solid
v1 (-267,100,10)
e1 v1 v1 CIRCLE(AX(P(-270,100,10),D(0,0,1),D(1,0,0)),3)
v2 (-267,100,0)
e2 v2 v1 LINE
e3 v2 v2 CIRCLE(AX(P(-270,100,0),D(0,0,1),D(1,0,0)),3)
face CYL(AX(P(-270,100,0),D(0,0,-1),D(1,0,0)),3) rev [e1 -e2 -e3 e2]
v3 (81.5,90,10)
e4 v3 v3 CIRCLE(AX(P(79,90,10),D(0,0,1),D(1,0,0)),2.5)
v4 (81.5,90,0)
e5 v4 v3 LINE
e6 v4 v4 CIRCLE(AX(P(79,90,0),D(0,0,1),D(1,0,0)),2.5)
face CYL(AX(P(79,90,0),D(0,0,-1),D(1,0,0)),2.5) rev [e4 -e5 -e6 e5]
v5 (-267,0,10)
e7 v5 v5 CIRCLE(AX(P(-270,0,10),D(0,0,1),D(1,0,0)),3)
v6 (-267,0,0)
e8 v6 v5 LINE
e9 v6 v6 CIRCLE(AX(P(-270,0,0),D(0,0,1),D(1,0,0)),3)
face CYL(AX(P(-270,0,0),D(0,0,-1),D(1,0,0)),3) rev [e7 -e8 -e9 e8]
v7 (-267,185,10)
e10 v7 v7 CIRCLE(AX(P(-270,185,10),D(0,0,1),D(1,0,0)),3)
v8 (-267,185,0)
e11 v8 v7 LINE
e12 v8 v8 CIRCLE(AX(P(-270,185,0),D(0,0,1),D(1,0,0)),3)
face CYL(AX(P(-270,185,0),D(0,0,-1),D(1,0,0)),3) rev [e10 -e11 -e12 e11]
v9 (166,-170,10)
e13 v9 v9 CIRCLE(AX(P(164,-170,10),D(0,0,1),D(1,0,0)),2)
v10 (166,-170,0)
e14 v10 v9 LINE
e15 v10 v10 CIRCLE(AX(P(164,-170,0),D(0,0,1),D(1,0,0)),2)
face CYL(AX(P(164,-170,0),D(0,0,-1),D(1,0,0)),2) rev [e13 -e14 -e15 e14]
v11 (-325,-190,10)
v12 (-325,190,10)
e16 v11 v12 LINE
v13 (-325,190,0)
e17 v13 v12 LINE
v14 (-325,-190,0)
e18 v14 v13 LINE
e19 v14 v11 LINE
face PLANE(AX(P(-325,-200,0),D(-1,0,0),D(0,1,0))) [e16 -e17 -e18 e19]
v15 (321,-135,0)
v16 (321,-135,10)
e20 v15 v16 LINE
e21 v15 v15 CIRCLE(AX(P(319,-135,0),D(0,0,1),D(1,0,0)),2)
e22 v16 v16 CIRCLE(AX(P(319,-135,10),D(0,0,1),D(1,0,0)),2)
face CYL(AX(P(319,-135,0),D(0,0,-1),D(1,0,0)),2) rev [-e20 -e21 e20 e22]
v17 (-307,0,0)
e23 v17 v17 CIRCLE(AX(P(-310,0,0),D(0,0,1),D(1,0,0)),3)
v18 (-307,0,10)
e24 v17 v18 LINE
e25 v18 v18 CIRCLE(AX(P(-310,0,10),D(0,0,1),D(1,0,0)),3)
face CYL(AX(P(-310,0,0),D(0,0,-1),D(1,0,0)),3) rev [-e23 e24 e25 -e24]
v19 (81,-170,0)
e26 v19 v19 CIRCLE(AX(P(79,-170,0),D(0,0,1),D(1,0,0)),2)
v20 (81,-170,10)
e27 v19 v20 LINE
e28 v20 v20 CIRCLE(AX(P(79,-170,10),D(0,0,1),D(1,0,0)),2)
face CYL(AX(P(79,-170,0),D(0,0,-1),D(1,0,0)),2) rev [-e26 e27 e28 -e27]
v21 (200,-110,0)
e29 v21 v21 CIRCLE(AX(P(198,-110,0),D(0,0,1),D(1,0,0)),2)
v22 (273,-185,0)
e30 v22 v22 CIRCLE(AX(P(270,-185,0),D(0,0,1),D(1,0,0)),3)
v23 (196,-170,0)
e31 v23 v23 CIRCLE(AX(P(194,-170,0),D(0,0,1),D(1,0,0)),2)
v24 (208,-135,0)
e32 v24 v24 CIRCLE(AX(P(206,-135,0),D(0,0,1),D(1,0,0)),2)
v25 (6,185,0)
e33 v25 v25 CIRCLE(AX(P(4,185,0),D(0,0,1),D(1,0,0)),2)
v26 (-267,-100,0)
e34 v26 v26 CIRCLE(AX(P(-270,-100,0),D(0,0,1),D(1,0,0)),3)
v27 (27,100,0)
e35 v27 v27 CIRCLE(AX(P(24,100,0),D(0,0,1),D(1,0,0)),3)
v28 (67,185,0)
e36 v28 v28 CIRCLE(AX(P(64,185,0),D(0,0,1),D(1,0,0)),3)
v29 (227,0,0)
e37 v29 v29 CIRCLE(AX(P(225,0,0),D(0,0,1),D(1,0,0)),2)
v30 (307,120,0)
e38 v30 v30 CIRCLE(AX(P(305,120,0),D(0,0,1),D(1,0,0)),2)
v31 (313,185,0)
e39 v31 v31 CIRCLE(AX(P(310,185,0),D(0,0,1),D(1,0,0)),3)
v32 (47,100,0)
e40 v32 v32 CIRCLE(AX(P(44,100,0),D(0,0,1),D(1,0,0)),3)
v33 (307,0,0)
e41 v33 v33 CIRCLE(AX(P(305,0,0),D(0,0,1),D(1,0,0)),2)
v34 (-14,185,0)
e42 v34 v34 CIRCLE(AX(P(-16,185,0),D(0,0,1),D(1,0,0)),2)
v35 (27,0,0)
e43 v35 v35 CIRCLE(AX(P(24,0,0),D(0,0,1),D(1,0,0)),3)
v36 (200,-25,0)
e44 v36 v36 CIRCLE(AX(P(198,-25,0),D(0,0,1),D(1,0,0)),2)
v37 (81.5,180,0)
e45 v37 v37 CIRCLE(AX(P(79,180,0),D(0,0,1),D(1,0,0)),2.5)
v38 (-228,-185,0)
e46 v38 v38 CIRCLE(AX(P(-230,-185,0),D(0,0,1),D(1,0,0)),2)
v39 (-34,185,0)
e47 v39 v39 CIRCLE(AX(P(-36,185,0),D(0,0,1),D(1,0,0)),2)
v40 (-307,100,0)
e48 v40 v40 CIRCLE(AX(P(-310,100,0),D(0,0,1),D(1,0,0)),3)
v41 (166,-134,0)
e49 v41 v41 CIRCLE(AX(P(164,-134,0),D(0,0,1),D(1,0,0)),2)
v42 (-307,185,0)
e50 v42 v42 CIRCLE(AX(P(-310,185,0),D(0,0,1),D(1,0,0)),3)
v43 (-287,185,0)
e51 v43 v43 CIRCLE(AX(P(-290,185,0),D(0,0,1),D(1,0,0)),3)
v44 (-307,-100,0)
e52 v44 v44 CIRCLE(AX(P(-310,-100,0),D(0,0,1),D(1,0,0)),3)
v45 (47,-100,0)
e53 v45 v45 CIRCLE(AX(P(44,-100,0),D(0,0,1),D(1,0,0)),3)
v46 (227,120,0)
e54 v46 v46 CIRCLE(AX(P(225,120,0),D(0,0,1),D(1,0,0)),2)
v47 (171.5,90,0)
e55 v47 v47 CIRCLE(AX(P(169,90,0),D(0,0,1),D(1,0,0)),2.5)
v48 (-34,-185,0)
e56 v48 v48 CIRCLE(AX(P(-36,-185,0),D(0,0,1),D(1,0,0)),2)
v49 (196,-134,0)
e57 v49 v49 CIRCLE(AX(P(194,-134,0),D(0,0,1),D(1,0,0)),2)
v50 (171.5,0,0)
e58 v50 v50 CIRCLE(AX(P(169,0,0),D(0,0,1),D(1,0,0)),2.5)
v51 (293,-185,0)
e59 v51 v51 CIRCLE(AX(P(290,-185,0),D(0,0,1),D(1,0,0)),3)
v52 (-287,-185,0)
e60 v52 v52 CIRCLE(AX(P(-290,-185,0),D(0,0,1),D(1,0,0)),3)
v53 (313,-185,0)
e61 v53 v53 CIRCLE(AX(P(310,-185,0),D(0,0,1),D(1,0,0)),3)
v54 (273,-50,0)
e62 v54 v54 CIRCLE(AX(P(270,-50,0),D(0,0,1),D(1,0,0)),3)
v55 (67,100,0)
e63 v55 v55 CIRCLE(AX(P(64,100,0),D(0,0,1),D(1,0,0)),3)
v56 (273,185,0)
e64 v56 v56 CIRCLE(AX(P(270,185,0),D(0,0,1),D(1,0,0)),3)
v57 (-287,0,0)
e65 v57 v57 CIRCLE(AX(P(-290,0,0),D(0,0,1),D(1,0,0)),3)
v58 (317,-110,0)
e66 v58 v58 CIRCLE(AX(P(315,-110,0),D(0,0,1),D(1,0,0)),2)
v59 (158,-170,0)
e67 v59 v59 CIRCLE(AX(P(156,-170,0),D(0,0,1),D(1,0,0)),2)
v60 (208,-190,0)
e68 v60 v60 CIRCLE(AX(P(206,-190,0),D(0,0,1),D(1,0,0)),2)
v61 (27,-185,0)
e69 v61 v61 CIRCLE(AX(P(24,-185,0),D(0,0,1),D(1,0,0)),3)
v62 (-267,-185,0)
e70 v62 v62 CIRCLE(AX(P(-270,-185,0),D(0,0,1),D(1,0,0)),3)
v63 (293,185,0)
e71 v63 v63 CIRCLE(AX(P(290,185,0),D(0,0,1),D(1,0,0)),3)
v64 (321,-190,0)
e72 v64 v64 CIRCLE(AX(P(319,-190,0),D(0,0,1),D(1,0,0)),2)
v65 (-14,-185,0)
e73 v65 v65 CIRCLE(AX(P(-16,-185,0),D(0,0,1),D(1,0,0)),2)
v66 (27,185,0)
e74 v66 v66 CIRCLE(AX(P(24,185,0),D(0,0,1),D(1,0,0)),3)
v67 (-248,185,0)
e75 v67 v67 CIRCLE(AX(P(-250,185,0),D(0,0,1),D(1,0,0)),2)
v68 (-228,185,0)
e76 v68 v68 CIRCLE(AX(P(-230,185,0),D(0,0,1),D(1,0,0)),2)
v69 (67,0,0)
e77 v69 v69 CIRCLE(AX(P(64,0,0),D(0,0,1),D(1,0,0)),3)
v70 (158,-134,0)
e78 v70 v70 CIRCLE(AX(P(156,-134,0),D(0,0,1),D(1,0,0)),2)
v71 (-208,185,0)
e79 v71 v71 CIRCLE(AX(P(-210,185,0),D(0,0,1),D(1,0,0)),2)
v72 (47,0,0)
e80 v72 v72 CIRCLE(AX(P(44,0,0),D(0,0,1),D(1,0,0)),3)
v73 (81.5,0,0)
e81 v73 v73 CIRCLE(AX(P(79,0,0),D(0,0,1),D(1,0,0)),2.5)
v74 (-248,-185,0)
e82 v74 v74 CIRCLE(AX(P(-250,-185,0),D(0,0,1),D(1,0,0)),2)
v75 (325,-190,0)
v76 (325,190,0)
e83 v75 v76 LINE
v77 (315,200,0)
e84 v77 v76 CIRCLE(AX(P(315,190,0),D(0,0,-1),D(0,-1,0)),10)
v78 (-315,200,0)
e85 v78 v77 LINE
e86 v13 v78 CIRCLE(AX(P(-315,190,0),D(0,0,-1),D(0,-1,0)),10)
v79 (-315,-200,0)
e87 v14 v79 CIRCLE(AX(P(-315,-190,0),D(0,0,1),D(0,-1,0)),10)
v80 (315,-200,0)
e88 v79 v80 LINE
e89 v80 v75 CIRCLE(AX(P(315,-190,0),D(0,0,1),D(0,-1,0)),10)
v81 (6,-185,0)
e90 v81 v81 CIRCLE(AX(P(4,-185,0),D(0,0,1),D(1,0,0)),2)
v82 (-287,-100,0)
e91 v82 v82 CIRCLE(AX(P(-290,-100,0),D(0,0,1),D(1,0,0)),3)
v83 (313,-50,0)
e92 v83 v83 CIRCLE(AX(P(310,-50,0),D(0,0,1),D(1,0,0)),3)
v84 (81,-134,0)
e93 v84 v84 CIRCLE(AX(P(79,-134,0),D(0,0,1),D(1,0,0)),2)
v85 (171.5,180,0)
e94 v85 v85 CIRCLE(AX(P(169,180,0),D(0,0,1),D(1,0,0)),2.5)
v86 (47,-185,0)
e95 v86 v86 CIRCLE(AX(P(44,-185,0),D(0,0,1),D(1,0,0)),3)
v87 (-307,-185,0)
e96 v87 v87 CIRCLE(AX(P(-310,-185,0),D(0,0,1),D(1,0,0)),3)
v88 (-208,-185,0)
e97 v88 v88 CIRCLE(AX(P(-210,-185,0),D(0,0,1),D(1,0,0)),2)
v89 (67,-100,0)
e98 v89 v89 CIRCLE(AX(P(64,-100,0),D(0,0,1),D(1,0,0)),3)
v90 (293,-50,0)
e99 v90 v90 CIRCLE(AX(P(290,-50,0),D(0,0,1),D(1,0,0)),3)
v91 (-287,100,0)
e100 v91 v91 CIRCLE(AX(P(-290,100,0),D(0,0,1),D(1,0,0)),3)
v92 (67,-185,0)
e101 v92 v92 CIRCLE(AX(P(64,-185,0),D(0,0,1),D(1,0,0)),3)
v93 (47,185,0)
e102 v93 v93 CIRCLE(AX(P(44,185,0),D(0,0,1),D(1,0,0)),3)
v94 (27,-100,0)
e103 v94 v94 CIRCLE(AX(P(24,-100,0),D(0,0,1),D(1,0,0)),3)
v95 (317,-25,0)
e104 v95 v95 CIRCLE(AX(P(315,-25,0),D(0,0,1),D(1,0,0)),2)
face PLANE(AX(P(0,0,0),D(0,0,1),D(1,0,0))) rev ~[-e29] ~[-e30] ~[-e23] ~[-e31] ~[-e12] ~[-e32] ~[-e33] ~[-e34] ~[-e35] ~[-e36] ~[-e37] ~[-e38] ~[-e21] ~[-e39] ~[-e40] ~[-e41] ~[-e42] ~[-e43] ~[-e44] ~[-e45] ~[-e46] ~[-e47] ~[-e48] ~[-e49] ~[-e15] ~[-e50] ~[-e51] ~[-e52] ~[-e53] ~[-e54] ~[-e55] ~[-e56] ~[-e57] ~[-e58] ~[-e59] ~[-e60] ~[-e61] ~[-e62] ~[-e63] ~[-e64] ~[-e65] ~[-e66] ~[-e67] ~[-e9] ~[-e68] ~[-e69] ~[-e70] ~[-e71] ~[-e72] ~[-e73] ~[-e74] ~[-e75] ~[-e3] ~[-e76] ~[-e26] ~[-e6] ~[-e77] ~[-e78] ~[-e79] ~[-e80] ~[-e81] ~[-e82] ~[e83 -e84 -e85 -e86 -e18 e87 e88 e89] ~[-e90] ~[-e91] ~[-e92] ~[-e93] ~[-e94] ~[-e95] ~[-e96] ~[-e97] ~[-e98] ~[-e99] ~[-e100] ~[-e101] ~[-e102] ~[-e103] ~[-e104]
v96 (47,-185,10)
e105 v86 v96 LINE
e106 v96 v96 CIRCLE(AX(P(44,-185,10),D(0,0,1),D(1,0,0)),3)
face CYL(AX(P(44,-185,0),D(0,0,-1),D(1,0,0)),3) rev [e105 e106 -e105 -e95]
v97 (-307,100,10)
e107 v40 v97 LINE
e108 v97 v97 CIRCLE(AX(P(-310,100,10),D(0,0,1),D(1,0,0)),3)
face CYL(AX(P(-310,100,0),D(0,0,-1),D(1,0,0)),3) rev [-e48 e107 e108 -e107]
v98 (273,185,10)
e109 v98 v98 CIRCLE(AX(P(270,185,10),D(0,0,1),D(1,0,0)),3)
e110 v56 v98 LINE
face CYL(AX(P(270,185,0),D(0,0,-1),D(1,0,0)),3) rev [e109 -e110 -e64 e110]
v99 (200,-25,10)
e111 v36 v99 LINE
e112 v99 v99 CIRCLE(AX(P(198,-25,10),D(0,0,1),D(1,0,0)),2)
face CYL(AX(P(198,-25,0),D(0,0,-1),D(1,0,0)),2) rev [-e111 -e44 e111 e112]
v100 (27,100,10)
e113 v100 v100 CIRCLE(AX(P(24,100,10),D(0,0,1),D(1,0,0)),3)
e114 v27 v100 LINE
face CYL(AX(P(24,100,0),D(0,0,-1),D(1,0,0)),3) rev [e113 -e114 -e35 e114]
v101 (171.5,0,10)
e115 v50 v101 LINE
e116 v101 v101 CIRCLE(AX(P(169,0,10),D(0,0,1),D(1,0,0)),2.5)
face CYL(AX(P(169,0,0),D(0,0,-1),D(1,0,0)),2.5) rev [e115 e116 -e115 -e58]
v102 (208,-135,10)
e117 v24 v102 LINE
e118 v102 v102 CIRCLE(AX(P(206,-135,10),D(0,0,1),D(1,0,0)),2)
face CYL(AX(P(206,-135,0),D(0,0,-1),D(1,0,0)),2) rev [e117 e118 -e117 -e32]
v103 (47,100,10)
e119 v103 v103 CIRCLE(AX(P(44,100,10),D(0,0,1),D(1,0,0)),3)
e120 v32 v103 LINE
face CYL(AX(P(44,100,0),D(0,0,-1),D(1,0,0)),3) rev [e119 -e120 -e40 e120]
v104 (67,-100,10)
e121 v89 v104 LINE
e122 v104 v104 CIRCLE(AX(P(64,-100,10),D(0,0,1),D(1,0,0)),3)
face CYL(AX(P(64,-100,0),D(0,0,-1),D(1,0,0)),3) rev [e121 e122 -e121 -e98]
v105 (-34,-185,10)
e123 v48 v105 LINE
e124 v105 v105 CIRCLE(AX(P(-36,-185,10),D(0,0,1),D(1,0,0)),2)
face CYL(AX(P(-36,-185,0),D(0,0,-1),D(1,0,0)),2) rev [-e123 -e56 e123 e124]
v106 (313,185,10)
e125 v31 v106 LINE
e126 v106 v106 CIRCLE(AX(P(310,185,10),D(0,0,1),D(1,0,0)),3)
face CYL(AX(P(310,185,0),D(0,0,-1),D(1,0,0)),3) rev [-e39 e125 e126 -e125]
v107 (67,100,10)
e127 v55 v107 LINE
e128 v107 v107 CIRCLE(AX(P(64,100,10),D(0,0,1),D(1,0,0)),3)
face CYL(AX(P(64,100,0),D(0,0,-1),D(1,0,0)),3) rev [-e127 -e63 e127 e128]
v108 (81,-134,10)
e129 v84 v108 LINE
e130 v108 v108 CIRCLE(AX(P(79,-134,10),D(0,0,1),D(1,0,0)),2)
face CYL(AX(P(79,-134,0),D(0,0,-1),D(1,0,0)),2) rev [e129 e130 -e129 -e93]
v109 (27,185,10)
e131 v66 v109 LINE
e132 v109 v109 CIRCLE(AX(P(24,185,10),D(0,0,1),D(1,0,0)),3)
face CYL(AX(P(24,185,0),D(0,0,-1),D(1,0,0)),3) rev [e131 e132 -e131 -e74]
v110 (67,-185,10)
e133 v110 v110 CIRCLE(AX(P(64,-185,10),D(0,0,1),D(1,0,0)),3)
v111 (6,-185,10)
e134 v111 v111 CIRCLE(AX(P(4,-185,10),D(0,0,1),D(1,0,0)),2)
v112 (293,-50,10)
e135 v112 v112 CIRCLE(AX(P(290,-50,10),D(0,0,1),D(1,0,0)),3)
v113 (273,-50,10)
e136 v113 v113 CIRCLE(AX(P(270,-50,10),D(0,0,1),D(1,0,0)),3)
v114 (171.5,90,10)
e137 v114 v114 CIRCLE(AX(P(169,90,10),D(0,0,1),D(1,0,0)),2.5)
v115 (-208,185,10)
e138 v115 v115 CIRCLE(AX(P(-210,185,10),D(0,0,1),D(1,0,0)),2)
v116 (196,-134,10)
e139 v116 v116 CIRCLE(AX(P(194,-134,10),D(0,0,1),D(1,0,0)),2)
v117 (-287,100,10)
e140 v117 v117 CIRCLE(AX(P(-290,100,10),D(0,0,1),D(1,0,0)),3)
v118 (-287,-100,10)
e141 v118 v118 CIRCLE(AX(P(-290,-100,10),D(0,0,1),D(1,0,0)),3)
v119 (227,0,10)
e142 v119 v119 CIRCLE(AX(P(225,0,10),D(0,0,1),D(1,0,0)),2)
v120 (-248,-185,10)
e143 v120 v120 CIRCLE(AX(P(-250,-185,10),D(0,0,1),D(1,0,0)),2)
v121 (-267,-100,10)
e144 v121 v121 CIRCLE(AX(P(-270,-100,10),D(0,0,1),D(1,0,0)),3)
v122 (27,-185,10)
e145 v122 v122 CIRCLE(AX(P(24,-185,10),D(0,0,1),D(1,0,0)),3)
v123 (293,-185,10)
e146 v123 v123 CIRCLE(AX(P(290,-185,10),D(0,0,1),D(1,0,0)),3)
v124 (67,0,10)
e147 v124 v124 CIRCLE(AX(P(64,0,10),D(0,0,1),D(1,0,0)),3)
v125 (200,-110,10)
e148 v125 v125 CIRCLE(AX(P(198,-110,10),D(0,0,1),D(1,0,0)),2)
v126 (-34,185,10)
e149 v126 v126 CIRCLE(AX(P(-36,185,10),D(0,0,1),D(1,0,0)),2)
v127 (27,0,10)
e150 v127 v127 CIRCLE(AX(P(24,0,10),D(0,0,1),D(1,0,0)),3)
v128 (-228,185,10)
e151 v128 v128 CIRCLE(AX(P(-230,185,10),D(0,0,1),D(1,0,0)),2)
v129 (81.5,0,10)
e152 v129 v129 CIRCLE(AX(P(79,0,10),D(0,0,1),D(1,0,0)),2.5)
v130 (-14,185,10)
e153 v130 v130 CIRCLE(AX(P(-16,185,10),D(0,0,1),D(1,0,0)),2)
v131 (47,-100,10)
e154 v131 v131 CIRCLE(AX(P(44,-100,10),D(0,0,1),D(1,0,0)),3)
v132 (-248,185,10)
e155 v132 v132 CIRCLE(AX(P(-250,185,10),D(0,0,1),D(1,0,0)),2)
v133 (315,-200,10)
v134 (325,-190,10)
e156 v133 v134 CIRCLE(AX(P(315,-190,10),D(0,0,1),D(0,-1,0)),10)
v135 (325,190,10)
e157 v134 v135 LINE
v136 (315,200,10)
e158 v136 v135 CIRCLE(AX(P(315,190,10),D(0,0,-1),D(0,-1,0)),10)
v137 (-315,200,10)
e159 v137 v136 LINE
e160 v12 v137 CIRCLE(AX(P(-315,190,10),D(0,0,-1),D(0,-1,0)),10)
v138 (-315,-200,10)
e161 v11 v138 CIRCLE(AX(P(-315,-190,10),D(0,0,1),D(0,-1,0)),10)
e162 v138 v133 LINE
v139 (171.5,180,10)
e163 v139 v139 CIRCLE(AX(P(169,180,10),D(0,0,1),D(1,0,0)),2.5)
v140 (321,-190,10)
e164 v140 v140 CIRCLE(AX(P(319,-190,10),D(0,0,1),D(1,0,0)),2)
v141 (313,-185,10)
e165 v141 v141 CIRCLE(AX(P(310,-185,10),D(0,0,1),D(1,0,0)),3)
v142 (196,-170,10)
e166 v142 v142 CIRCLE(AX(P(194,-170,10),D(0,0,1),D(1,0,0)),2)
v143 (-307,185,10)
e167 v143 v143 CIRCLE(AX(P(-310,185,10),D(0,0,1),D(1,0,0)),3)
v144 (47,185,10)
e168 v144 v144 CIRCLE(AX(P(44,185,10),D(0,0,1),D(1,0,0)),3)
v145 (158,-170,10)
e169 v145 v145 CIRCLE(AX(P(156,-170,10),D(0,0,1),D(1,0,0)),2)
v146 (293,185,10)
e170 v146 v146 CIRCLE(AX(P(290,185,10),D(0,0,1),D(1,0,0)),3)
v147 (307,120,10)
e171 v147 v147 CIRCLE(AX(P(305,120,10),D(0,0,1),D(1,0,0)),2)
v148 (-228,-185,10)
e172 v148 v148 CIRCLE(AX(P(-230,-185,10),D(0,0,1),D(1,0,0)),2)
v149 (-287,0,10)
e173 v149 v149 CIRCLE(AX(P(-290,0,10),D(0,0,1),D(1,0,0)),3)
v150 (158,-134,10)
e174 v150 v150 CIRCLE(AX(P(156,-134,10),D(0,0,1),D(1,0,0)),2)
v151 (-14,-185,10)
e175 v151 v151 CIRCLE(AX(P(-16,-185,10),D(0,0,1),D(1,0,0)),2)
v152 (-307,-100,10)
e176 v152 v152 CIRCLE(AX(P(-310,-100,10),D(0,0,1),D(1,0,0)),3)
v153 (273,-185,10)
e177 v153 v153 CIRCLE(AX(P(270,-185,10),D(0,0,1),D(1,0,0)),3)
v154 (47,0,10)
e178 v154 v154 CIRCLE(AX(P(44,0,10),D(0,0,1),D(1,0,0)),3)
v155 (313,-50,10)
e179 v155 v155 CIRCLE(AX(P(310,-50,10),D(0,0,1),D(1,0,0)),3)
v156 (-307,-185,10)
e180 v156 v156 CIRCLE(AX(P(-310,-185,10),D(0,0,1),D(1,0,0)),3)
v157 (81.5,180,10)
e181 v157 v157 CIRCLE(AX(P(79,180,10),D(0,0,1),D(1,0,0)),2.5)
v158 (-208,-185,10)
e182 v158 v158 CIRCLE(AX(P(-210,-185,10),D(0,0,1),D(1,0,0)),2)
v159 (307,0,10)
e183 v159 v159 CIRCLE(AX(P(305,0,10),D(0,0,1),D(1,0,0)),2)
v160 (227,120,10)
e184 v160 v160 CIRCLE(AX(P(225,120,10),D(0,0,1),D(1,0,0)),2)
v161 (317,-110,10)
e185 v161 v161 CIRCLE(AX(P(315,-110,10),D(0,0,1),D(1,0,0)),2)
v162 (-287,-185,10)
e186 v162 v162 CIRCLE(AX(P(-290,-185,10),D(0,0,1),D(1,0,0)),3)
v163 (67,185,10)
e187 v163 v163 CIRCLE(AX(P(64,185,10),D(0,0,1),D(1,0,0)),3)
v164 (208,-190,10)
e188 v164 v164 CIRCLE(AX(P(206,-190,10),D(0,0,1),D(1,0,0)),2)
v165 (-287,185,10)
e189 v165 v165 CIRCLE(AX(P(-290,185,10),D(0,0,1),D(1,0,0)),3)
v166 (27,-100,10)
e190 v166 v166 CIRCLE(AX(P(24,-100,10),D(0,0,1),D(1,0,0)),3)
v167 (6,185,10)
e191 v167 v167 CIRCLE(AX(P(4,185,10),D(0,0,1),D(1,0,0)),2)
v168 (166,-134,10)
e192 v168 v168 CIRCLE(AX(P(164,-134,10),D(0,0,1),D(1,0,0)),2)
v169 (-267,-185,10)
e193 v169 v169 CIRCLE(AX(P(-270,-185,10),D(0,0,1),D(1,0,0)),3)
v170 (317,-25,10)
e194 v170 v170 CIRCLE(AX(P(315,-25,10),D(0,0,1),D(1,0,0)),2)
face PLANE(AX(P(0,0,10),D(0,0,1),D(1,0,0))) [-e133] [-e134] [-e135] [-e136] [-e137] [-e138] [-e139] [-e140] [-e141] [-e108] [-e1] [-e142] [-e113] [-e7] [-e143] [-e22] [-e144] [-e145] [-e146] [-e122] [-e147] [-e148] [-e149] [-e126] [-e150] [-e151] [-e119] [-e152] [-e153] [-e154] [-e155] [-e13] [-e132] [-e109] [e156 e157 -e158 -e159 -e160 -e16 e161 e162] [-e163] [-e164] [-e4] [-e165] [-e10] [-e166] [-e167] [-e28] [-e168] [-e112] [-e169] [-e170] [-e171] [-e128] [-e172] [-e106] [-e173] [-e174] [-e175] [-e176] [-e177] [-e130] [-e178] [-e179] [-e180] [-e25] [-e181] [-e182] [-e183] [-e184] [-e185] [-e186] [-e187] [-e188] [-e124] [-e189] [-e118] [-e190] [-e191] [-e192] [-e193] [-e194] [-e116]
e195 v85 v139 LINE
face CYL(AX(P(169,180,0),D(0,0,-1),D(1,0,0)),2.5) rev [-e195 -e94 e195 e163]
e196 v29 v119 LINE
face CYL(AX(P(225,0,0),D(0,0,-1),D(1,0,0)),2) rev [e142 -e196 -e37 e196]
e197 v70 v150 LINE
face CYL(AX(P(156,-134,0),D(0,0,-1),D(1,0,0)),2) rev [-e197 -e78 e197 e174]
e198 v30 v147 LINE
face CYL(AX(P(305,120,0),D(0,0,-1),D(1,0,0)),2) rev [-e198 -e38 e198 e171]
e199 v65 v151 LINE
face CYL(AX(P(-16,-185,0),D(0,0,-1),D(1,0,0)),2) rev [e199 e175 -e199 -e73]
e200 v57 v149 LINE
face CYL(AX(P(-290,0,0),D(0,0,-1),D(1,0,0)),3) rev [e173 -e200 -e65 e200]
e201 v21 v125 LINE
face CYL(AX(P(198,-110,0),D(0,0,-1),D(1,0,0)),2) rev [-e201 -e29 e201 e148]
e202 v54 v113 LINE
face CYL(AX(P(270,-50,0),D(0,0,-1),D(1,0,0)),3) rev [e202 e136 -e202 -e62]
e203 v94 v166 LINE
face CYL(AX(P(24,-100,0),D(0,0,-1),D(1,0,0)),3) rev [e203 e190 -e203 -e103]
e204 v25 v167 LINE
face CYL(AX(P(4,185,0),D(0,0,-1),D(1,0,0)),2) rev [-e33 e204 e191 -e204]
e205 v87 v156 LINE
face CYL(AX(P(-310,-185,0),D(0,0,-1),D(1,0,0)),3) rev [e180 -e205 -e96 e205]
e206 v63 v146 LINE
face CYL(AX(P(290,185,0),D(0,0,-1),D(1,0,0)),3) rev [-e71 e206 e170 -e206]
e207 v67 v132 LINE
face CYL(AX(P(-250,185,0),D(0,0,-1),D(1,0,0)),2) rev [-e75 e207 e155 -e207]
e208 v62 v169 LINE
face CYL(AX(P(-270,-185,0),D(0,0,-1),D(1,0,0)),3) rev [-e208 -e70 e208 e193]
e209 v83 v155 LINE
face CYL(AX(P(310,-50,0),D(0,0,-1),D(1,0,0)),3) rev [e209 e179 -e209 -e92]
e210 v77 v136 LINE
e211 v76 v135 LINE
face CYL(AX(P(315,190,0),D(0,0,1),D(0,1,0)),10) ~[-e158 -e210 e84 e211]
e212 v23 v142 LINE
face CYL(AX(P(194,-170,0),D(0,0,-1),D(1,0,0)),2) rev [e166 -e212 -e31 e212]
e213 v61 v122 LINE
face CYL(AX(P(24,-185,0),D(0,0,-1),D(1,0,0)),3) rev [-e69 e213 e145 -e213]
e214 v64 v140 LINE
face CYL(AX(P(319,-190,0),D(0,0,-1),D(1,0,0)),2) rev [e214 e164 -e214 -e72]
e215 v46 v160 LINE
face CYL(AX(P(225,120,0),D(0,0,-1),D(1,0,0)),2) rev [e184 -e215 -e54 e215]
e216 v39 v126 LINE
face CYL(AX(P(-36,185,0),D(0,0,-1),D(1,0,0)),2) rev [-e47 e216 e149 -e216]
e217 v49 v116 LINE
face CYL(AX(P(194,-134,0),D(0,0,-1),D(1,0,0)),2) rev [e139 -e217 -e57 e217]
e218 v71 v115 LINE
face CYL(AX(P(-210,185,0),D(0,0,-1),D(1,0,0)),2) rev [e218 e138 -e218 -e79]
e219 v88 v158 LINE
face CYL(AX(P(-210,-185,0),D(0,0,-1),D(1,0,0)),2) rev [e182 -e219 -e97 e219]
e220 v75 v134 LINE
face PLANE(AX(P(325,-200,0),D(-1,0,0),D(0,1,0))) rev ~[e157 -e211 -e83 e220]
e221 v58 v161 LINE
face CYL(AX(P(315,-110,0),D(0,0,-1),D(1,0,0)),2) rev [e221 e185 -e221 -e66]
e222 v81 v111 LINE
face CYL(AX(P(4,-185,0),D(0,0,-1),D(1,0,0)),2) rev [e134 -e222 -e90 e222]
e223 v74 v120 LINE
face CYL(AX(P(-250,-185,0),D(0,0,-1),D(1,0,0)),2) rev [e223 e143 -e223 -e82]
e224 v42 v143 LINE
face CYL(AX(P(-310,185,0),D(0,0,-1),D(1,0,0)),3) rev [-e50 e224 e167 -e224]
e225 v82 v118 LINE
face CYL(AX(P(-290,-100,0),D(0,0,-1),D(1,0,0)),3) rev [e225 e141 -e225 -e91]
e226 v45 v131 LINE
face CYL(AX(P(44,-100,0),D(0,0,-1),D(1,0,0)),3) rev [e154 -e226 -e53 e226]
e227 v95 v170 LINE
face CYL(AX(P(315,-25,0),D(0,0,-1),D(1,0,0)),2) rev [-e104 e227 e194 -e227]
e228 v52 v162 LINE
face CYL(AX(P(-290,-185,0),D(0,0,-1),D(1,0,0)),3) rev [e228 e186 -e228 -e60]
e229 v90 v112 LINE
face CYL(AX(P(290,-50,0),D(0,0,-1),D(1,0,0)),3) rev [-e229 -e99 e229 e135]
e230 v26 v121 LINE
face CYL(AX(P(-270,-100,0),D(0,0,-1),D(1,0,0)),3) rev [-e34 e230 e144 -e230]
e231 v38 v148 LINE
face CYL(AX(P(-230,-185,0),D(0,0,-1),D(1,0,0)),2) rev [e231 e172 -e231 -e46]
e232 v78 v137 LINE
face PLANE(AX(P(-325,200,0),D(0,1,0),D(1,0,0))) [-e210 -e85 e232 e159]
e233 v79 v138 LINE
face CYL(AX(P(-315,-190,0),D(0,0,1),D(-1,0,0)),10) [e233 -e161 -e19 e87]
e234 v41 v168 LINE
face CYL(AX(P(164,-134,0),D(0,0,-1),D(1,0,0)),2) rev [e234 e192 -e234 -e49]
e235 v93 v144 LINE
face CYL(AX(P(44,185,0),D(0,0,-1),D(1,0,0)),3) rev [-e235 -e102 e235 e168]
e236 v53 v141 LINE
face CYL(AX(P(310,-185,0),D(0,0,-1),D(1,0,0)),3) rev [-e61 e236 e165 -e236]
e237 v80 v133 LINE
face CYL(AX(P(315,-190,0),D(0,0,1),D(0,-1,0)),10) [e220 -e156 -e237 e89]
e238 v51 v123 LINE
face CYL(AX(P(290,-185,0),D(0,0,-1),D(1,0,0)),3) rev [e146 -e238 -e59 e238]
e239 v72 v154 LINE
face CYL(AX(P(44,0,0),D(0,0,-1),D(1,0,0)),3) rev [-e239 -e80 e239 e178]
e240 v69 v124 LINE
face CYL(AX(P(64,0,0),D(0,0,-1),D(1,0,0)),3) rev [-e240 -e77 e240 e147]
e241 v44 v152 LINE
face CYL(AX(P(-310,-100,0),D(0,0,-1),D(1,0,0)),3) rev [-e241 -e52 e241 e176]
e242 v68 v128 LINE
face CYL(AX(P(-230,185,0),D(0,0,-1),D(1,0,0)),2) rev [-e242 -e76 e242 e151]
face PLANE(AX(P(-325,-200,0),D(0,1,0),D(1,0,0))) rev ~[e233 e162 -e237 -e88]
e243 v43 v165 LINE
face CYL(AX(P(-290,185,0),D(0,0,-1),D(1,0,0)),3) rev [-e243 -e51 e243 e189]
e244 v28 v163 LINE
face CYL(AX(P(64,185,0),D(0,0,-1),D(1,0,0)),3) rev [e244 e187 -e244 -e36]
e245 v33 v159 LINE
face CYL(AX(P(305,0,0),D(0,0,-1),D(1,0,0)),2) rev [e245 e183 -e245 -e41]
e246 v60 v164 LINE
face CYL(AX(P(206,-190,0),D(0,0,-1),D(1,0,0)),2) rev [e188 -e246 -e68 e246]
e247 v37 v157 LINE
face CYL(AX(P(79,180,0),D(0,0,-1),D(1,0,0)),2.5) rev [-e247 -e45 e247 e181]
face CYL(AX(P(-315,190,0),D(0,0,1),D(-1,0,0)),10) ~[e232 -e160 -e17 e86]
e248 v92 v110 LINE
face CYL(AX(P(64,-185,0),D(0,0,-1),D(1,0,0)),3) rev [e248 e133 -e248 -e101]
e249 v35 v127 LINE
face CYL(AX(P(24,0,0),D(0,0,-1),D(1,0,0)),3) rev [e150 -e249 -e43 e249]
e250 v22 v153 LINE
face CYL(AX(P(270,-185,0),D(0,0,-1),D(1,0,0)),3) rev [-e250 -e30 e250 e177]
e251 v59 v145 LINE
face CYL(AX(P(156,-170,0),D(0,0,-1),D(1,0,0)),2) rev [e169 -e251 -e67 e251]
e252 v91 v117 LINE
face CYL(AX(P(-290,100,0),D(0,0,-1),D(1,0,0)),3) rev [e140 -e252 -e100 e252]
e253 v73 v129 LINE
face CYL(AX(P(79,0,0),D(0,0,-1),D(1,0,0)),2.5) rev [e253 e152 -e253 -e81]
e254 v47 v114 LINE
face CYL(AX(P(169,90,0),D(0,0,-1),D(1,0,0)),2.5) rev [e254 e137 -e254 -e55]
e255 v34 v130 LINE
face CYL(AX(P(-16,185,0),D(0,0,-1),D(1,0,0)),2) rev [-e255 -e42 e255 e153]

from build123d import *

# Parameters (mm, degrees)
SKETCH_1_W      = 650
SKETCH_1_H      = 400
SKETCH_1_R      = 3
SKETCH_1_R_2    = 2.5
SKETCH_1_R_3    = 2
EXTRUDE_1_DEPTH = 10
FILLET_1_R      = 10


with BuildPart() as part:
    # 草图1 → 凸台-拉伸1 (new body)
    with BuildSketch(Plane.XY):
        Rectangle(SKETCH_1_W, SKETCH_1_H)
        with Locations((-310, 100)):
            Circle(SKETCH_1_R, mode=Mode.SUBTRACT)
        with Locations((-290, 100)):
            Circle(SKETCH_1_R, mode=Mode.SUBTRACT)
        with Locations((-270, 100)):
            Circle(SKETCH_1_R, mode=Mode.SUBTRACT)
        with Locations((-310, 0)):
            Circle(SKETCH_1_R, mode=Mode.SUBTRACT)
        with Locations((-290, 0)):
            Circle(SKETCH_1_R, mode=Mode.SUBTRACT)
        with Locations((-270, 0)):
            Circle(SKETCH_1_R, mode=Mode.SUBTRACT)
        with Locations((-310, -100)):
            Circle(SKETCH_1_R, mode=Mode.SUBTRACT)
        with Locations((-290, -100)):
            Circle(SKETCH_1_R, mode=Mode.SUBTRACT)
        with Locations((-270, -100)):
            Circle(SKETCH_1_R, mode=Mode.SUBTRACT)
        with Locations((24, 100)):
            Circle(SKETCH_1_R, mode=Mode.SUBTRACT)
        with Locations((44, 100)):
            Circle(SKETCH_1_R, mode=Mode.SUBTRACT)
        with Locations((64, 100)):
            Circle(SKETCH_1_R, mode=Mode.SUBTRACT)
        with Locations((24, -100)):
            Circle(SKETCH_1_R, mode=Mode.SUBTRACT)
        with Locations((44, -100)):
            Circle(SKETCH_1_R, mode=Mode.SUBTRACT)
        with Locations((64, -100)):
            Circle(SKETCH_1_R, mode=Mode.SUBTRACT)
        with Locations((24, 0)):
            Circle(SKETCH_1_R, mode=Mode.SUBTRACT)
        with Locations((44, 0)):
            Circle(SKETCH_1_R, mode=Mode.SUBTRACT)
        with Locations((64, 0)):
            Circle(SKETCH_1_R, mode=Mode.SUBTRACT)
        with Locations((79, 180)):
            Circle(SKETCH_1_R_2, mode=Mode.SUBTRACT)
        with Locations((169, 180)):
            Circle(SKETCH_1_R_2, mode=Mode.SUBTRACT)
        with Locations((79, 90)):
            Circle(SKETCH_1_R_2, mode=Mode.SUBTRACT)
        with Locations((79, 0)):
            Circle(SKETCH_1_R_2, mode=Mode.SUBTRACT)
        with Locations((169, 90)):
            Circle(SKETCH_1_R_2, mode=Mode.SUBTRACT)
        with Locations((169, 0)):
            Circle(SKETCH_1_R_2, mode=Mode.SUBTRACT)
        with Locations((305, 120)):
            Circle(SKETCH_1_R_3, mode=Mode.SUBTRACT)
        with Locations((225, 120)):
            Circle(SKETCH_1_R_3, mode=Mode.SUBTRACT)
        with Locations((305, 0)):
            Circle(SKETCH_1_R_3, mode=Mode.SUBTRACT)
        with Locations((225, 0)):
            Circle(SKETCH_1_R_3, mode=Mode.SUBTRACT)
        with Locations((79, -134)):
            Circle(SKETCH_1_R_3, mode=Mode.SUBTRACT)
        with Locations((79, -170)):
            Circle(SKETCH_1_R_3, mode=Mode.SUBTRACT)
        with Locations((156, -134)):
            Circle(SKETCH_1_R_3, mode=Mode.SUBTRACT)
        with Locations((156, -170)):
            Circle(SKETCH_1_R_3, mode=Mode.SUBTRACT)
        with Locations((164, -134)):
            Circle(SKETCH_1_R_3, mode=Mode.SUBTRACT)
        with Locations((164, -170)):
            Circle(SKETCH_1_R_3, mode=Mode.SUBTRACT)
        with Locations((194, -134)):
            Circle(SKETCH_1_R_3, mode=Mode.SUBTRACT)
        with Locations((194, -170)):
            Circle(SKETCH_1_R_3, mode=Mode.SUBTRACT)
        with Locations((198, -25)):
            Circle(SKETCH_1_R_3, mode=Mode.SUBTRACT)
        with Locations((315, -25)):
            Circle(SKETCH_1_R_3, mode=Mode.SUBTRACT)
        with Locations((198, -110)):
            Circle(SKETCH_1_R_3, mode=Mode.SUBTRACT)
        with Locations((315, -110)):
            Circle(SKETCH_1_R_3, mode=Mode.SUBTRACT)
        with Locations((206, -190)):
            Circle(SKETCH_1_R_3, mode=Mode.SUBTRACT)
        with Locations((206, -135)):
            Circle(SKETCH_1_R_3, mode=Mode.SUBTRACT)
        with Locations((319, -190)):
            Circle(SKETCH_1_R_3, mode=Mode.SUBTRACT)
        with Locations((319, -135)):
            Circle(SKETCH_1_R_3, mode=Mode.SUBTRACT)
        with Locations((-310, -185)):
            Circle(SKETCH_1_R, mode=Mode.SUBTRACT)
        with Locations((-290, -185)):
            Circle(SKETCH_1_R, mode=Mode.SUBTRACT)
        with Locations((-270, -185)):
            Circle(SKETCH_1_R, mode=Mode.SUBTRACT)
        with Locations((24, -185)):
            Circle(SKETCH_1_R, mode=Mode.SUBTRACT)
        with Locations((44, -185)):
            Circle(SKETCH_1_R, mode=Mode.SUBTRACT)
        with Locations((64, -185)):
            Circle(SKETCH_1_R, mode=Mode.SUBTRACT)
        with Locations((-310, 185)):
            Circle(SKETCH_1_R, mode=Mode.SUBTRACT)
        with Locations((-290, 185)):
            Circle(SKETCH_1_R, mode=Mode.SUBTRACT)
        with Locations((-270, 185)):
            Circle(SKETCH_1_R, mode=Mode.SUBTRACT)
        with Locations((24, 185)):
            Circle(SKETCH_1_R, mode=Mode.SUBTRACT)
        with Locations((44, 185)):
            Circle(SKETCH_1_R, mode=Mode.SUBTRACT)
        with Locations((64, 185)):
            Circle(SKETCH_1_R, mode=Mode.SUBTRACT)
        with Locations((-36, 185)):
            Circle(SKETCH_1_R_3, mode=Mode.SUBTRACT)
        with Locations((-16, 185)):
            Circle(SKETCH_1_R_3, mode=Mode.SUBTRACT)
        with Locations((4, 185)):
            Circle(SKETCH_1_R_3, mode=Mode.SUBTRACT)
        with Locations((-250, 185)):
            Circle(SKETCH_1_R_3, mode=Mode.SUBTRACT)
        with Locations((-230, 185)):
            Circle(SKETCH_1_R_3, mode=Mode.SUBTRACT)
        with Locations((-210, 185)):
            Circle(SKETCH_1_R_3, mode=Mode.SUBTRACT)
        with Locations((-250, -185)):
            Circle(SKETCH_1_R_3, mode=Mode.SUBTRACT)
        with Locations((-230, -185)):
            Circle(SKETCH_1_R_3, mode=Mode.SUBTRACT)
        with Locations((-210, -185)):
            Circle(SKETCH_1_R_3, mode=Mode.SUBTRACT)
        with Locations((4, -185)):
            Circle(SKETCH_1_R_3, mode=Mode.SUBTRACT)
        with Locations((-16, -185)):
            Circle(SKETCH_1_R_3, mode=Mode.SUBTRACT)
        with Locations((-36, -185)):
            Circle(SKETCH_1_R_3, mode=Mode.SUBTRACT)
        with Locations((310, -185)):
            Circle(SKETCH_1_R, mode=Mode.SUBTRACT)
        with Locations((290, -185)):
            Circle(SKETCH_1_R, mode=Mode.SUBTRACT)
        with Locations((270, -185)):
            Circle(SKETCH_1_R, mode=Mode.SUBTRACT)
        with Locations((310, 185)):
            Circle(SKETCH_1_R, mode=Mode.SUBTRACT)
        with Locations((270, 185)):
            Circle(SKETCH_1_R, mode=Mode.SUBTRACT)
        with Locations((290, 185)):
            Circle(SKETCH_1_R, mode=Mode.SUBTRACT)
        with Locations((270, -50)):
            Circle(SKETCH_1_R, mode=Mode.SUBTRACT)
        with Locations((290, -50)):
            Circle(SKETCH_1_R, mode=Mode.SUBTRACT)
        with Locations((310, -50)):
            Circle(SKETCH_1_R, mode=Mode.SUBTRACT)
    extrude(amount=EXTRUDE_1_DEPTH)

    # 圆角1
    fillet_1_edges = [part.edges().sort_by_distance(p)[0] for p in [
        (325, -200, 5),
        (-325, -200, 5),
        (-325, 200, 5),
        (325, 200, 5),
    ]]
    fillet(fillet_1_edges, radius=FILLET_1_R)


solid = part.part
